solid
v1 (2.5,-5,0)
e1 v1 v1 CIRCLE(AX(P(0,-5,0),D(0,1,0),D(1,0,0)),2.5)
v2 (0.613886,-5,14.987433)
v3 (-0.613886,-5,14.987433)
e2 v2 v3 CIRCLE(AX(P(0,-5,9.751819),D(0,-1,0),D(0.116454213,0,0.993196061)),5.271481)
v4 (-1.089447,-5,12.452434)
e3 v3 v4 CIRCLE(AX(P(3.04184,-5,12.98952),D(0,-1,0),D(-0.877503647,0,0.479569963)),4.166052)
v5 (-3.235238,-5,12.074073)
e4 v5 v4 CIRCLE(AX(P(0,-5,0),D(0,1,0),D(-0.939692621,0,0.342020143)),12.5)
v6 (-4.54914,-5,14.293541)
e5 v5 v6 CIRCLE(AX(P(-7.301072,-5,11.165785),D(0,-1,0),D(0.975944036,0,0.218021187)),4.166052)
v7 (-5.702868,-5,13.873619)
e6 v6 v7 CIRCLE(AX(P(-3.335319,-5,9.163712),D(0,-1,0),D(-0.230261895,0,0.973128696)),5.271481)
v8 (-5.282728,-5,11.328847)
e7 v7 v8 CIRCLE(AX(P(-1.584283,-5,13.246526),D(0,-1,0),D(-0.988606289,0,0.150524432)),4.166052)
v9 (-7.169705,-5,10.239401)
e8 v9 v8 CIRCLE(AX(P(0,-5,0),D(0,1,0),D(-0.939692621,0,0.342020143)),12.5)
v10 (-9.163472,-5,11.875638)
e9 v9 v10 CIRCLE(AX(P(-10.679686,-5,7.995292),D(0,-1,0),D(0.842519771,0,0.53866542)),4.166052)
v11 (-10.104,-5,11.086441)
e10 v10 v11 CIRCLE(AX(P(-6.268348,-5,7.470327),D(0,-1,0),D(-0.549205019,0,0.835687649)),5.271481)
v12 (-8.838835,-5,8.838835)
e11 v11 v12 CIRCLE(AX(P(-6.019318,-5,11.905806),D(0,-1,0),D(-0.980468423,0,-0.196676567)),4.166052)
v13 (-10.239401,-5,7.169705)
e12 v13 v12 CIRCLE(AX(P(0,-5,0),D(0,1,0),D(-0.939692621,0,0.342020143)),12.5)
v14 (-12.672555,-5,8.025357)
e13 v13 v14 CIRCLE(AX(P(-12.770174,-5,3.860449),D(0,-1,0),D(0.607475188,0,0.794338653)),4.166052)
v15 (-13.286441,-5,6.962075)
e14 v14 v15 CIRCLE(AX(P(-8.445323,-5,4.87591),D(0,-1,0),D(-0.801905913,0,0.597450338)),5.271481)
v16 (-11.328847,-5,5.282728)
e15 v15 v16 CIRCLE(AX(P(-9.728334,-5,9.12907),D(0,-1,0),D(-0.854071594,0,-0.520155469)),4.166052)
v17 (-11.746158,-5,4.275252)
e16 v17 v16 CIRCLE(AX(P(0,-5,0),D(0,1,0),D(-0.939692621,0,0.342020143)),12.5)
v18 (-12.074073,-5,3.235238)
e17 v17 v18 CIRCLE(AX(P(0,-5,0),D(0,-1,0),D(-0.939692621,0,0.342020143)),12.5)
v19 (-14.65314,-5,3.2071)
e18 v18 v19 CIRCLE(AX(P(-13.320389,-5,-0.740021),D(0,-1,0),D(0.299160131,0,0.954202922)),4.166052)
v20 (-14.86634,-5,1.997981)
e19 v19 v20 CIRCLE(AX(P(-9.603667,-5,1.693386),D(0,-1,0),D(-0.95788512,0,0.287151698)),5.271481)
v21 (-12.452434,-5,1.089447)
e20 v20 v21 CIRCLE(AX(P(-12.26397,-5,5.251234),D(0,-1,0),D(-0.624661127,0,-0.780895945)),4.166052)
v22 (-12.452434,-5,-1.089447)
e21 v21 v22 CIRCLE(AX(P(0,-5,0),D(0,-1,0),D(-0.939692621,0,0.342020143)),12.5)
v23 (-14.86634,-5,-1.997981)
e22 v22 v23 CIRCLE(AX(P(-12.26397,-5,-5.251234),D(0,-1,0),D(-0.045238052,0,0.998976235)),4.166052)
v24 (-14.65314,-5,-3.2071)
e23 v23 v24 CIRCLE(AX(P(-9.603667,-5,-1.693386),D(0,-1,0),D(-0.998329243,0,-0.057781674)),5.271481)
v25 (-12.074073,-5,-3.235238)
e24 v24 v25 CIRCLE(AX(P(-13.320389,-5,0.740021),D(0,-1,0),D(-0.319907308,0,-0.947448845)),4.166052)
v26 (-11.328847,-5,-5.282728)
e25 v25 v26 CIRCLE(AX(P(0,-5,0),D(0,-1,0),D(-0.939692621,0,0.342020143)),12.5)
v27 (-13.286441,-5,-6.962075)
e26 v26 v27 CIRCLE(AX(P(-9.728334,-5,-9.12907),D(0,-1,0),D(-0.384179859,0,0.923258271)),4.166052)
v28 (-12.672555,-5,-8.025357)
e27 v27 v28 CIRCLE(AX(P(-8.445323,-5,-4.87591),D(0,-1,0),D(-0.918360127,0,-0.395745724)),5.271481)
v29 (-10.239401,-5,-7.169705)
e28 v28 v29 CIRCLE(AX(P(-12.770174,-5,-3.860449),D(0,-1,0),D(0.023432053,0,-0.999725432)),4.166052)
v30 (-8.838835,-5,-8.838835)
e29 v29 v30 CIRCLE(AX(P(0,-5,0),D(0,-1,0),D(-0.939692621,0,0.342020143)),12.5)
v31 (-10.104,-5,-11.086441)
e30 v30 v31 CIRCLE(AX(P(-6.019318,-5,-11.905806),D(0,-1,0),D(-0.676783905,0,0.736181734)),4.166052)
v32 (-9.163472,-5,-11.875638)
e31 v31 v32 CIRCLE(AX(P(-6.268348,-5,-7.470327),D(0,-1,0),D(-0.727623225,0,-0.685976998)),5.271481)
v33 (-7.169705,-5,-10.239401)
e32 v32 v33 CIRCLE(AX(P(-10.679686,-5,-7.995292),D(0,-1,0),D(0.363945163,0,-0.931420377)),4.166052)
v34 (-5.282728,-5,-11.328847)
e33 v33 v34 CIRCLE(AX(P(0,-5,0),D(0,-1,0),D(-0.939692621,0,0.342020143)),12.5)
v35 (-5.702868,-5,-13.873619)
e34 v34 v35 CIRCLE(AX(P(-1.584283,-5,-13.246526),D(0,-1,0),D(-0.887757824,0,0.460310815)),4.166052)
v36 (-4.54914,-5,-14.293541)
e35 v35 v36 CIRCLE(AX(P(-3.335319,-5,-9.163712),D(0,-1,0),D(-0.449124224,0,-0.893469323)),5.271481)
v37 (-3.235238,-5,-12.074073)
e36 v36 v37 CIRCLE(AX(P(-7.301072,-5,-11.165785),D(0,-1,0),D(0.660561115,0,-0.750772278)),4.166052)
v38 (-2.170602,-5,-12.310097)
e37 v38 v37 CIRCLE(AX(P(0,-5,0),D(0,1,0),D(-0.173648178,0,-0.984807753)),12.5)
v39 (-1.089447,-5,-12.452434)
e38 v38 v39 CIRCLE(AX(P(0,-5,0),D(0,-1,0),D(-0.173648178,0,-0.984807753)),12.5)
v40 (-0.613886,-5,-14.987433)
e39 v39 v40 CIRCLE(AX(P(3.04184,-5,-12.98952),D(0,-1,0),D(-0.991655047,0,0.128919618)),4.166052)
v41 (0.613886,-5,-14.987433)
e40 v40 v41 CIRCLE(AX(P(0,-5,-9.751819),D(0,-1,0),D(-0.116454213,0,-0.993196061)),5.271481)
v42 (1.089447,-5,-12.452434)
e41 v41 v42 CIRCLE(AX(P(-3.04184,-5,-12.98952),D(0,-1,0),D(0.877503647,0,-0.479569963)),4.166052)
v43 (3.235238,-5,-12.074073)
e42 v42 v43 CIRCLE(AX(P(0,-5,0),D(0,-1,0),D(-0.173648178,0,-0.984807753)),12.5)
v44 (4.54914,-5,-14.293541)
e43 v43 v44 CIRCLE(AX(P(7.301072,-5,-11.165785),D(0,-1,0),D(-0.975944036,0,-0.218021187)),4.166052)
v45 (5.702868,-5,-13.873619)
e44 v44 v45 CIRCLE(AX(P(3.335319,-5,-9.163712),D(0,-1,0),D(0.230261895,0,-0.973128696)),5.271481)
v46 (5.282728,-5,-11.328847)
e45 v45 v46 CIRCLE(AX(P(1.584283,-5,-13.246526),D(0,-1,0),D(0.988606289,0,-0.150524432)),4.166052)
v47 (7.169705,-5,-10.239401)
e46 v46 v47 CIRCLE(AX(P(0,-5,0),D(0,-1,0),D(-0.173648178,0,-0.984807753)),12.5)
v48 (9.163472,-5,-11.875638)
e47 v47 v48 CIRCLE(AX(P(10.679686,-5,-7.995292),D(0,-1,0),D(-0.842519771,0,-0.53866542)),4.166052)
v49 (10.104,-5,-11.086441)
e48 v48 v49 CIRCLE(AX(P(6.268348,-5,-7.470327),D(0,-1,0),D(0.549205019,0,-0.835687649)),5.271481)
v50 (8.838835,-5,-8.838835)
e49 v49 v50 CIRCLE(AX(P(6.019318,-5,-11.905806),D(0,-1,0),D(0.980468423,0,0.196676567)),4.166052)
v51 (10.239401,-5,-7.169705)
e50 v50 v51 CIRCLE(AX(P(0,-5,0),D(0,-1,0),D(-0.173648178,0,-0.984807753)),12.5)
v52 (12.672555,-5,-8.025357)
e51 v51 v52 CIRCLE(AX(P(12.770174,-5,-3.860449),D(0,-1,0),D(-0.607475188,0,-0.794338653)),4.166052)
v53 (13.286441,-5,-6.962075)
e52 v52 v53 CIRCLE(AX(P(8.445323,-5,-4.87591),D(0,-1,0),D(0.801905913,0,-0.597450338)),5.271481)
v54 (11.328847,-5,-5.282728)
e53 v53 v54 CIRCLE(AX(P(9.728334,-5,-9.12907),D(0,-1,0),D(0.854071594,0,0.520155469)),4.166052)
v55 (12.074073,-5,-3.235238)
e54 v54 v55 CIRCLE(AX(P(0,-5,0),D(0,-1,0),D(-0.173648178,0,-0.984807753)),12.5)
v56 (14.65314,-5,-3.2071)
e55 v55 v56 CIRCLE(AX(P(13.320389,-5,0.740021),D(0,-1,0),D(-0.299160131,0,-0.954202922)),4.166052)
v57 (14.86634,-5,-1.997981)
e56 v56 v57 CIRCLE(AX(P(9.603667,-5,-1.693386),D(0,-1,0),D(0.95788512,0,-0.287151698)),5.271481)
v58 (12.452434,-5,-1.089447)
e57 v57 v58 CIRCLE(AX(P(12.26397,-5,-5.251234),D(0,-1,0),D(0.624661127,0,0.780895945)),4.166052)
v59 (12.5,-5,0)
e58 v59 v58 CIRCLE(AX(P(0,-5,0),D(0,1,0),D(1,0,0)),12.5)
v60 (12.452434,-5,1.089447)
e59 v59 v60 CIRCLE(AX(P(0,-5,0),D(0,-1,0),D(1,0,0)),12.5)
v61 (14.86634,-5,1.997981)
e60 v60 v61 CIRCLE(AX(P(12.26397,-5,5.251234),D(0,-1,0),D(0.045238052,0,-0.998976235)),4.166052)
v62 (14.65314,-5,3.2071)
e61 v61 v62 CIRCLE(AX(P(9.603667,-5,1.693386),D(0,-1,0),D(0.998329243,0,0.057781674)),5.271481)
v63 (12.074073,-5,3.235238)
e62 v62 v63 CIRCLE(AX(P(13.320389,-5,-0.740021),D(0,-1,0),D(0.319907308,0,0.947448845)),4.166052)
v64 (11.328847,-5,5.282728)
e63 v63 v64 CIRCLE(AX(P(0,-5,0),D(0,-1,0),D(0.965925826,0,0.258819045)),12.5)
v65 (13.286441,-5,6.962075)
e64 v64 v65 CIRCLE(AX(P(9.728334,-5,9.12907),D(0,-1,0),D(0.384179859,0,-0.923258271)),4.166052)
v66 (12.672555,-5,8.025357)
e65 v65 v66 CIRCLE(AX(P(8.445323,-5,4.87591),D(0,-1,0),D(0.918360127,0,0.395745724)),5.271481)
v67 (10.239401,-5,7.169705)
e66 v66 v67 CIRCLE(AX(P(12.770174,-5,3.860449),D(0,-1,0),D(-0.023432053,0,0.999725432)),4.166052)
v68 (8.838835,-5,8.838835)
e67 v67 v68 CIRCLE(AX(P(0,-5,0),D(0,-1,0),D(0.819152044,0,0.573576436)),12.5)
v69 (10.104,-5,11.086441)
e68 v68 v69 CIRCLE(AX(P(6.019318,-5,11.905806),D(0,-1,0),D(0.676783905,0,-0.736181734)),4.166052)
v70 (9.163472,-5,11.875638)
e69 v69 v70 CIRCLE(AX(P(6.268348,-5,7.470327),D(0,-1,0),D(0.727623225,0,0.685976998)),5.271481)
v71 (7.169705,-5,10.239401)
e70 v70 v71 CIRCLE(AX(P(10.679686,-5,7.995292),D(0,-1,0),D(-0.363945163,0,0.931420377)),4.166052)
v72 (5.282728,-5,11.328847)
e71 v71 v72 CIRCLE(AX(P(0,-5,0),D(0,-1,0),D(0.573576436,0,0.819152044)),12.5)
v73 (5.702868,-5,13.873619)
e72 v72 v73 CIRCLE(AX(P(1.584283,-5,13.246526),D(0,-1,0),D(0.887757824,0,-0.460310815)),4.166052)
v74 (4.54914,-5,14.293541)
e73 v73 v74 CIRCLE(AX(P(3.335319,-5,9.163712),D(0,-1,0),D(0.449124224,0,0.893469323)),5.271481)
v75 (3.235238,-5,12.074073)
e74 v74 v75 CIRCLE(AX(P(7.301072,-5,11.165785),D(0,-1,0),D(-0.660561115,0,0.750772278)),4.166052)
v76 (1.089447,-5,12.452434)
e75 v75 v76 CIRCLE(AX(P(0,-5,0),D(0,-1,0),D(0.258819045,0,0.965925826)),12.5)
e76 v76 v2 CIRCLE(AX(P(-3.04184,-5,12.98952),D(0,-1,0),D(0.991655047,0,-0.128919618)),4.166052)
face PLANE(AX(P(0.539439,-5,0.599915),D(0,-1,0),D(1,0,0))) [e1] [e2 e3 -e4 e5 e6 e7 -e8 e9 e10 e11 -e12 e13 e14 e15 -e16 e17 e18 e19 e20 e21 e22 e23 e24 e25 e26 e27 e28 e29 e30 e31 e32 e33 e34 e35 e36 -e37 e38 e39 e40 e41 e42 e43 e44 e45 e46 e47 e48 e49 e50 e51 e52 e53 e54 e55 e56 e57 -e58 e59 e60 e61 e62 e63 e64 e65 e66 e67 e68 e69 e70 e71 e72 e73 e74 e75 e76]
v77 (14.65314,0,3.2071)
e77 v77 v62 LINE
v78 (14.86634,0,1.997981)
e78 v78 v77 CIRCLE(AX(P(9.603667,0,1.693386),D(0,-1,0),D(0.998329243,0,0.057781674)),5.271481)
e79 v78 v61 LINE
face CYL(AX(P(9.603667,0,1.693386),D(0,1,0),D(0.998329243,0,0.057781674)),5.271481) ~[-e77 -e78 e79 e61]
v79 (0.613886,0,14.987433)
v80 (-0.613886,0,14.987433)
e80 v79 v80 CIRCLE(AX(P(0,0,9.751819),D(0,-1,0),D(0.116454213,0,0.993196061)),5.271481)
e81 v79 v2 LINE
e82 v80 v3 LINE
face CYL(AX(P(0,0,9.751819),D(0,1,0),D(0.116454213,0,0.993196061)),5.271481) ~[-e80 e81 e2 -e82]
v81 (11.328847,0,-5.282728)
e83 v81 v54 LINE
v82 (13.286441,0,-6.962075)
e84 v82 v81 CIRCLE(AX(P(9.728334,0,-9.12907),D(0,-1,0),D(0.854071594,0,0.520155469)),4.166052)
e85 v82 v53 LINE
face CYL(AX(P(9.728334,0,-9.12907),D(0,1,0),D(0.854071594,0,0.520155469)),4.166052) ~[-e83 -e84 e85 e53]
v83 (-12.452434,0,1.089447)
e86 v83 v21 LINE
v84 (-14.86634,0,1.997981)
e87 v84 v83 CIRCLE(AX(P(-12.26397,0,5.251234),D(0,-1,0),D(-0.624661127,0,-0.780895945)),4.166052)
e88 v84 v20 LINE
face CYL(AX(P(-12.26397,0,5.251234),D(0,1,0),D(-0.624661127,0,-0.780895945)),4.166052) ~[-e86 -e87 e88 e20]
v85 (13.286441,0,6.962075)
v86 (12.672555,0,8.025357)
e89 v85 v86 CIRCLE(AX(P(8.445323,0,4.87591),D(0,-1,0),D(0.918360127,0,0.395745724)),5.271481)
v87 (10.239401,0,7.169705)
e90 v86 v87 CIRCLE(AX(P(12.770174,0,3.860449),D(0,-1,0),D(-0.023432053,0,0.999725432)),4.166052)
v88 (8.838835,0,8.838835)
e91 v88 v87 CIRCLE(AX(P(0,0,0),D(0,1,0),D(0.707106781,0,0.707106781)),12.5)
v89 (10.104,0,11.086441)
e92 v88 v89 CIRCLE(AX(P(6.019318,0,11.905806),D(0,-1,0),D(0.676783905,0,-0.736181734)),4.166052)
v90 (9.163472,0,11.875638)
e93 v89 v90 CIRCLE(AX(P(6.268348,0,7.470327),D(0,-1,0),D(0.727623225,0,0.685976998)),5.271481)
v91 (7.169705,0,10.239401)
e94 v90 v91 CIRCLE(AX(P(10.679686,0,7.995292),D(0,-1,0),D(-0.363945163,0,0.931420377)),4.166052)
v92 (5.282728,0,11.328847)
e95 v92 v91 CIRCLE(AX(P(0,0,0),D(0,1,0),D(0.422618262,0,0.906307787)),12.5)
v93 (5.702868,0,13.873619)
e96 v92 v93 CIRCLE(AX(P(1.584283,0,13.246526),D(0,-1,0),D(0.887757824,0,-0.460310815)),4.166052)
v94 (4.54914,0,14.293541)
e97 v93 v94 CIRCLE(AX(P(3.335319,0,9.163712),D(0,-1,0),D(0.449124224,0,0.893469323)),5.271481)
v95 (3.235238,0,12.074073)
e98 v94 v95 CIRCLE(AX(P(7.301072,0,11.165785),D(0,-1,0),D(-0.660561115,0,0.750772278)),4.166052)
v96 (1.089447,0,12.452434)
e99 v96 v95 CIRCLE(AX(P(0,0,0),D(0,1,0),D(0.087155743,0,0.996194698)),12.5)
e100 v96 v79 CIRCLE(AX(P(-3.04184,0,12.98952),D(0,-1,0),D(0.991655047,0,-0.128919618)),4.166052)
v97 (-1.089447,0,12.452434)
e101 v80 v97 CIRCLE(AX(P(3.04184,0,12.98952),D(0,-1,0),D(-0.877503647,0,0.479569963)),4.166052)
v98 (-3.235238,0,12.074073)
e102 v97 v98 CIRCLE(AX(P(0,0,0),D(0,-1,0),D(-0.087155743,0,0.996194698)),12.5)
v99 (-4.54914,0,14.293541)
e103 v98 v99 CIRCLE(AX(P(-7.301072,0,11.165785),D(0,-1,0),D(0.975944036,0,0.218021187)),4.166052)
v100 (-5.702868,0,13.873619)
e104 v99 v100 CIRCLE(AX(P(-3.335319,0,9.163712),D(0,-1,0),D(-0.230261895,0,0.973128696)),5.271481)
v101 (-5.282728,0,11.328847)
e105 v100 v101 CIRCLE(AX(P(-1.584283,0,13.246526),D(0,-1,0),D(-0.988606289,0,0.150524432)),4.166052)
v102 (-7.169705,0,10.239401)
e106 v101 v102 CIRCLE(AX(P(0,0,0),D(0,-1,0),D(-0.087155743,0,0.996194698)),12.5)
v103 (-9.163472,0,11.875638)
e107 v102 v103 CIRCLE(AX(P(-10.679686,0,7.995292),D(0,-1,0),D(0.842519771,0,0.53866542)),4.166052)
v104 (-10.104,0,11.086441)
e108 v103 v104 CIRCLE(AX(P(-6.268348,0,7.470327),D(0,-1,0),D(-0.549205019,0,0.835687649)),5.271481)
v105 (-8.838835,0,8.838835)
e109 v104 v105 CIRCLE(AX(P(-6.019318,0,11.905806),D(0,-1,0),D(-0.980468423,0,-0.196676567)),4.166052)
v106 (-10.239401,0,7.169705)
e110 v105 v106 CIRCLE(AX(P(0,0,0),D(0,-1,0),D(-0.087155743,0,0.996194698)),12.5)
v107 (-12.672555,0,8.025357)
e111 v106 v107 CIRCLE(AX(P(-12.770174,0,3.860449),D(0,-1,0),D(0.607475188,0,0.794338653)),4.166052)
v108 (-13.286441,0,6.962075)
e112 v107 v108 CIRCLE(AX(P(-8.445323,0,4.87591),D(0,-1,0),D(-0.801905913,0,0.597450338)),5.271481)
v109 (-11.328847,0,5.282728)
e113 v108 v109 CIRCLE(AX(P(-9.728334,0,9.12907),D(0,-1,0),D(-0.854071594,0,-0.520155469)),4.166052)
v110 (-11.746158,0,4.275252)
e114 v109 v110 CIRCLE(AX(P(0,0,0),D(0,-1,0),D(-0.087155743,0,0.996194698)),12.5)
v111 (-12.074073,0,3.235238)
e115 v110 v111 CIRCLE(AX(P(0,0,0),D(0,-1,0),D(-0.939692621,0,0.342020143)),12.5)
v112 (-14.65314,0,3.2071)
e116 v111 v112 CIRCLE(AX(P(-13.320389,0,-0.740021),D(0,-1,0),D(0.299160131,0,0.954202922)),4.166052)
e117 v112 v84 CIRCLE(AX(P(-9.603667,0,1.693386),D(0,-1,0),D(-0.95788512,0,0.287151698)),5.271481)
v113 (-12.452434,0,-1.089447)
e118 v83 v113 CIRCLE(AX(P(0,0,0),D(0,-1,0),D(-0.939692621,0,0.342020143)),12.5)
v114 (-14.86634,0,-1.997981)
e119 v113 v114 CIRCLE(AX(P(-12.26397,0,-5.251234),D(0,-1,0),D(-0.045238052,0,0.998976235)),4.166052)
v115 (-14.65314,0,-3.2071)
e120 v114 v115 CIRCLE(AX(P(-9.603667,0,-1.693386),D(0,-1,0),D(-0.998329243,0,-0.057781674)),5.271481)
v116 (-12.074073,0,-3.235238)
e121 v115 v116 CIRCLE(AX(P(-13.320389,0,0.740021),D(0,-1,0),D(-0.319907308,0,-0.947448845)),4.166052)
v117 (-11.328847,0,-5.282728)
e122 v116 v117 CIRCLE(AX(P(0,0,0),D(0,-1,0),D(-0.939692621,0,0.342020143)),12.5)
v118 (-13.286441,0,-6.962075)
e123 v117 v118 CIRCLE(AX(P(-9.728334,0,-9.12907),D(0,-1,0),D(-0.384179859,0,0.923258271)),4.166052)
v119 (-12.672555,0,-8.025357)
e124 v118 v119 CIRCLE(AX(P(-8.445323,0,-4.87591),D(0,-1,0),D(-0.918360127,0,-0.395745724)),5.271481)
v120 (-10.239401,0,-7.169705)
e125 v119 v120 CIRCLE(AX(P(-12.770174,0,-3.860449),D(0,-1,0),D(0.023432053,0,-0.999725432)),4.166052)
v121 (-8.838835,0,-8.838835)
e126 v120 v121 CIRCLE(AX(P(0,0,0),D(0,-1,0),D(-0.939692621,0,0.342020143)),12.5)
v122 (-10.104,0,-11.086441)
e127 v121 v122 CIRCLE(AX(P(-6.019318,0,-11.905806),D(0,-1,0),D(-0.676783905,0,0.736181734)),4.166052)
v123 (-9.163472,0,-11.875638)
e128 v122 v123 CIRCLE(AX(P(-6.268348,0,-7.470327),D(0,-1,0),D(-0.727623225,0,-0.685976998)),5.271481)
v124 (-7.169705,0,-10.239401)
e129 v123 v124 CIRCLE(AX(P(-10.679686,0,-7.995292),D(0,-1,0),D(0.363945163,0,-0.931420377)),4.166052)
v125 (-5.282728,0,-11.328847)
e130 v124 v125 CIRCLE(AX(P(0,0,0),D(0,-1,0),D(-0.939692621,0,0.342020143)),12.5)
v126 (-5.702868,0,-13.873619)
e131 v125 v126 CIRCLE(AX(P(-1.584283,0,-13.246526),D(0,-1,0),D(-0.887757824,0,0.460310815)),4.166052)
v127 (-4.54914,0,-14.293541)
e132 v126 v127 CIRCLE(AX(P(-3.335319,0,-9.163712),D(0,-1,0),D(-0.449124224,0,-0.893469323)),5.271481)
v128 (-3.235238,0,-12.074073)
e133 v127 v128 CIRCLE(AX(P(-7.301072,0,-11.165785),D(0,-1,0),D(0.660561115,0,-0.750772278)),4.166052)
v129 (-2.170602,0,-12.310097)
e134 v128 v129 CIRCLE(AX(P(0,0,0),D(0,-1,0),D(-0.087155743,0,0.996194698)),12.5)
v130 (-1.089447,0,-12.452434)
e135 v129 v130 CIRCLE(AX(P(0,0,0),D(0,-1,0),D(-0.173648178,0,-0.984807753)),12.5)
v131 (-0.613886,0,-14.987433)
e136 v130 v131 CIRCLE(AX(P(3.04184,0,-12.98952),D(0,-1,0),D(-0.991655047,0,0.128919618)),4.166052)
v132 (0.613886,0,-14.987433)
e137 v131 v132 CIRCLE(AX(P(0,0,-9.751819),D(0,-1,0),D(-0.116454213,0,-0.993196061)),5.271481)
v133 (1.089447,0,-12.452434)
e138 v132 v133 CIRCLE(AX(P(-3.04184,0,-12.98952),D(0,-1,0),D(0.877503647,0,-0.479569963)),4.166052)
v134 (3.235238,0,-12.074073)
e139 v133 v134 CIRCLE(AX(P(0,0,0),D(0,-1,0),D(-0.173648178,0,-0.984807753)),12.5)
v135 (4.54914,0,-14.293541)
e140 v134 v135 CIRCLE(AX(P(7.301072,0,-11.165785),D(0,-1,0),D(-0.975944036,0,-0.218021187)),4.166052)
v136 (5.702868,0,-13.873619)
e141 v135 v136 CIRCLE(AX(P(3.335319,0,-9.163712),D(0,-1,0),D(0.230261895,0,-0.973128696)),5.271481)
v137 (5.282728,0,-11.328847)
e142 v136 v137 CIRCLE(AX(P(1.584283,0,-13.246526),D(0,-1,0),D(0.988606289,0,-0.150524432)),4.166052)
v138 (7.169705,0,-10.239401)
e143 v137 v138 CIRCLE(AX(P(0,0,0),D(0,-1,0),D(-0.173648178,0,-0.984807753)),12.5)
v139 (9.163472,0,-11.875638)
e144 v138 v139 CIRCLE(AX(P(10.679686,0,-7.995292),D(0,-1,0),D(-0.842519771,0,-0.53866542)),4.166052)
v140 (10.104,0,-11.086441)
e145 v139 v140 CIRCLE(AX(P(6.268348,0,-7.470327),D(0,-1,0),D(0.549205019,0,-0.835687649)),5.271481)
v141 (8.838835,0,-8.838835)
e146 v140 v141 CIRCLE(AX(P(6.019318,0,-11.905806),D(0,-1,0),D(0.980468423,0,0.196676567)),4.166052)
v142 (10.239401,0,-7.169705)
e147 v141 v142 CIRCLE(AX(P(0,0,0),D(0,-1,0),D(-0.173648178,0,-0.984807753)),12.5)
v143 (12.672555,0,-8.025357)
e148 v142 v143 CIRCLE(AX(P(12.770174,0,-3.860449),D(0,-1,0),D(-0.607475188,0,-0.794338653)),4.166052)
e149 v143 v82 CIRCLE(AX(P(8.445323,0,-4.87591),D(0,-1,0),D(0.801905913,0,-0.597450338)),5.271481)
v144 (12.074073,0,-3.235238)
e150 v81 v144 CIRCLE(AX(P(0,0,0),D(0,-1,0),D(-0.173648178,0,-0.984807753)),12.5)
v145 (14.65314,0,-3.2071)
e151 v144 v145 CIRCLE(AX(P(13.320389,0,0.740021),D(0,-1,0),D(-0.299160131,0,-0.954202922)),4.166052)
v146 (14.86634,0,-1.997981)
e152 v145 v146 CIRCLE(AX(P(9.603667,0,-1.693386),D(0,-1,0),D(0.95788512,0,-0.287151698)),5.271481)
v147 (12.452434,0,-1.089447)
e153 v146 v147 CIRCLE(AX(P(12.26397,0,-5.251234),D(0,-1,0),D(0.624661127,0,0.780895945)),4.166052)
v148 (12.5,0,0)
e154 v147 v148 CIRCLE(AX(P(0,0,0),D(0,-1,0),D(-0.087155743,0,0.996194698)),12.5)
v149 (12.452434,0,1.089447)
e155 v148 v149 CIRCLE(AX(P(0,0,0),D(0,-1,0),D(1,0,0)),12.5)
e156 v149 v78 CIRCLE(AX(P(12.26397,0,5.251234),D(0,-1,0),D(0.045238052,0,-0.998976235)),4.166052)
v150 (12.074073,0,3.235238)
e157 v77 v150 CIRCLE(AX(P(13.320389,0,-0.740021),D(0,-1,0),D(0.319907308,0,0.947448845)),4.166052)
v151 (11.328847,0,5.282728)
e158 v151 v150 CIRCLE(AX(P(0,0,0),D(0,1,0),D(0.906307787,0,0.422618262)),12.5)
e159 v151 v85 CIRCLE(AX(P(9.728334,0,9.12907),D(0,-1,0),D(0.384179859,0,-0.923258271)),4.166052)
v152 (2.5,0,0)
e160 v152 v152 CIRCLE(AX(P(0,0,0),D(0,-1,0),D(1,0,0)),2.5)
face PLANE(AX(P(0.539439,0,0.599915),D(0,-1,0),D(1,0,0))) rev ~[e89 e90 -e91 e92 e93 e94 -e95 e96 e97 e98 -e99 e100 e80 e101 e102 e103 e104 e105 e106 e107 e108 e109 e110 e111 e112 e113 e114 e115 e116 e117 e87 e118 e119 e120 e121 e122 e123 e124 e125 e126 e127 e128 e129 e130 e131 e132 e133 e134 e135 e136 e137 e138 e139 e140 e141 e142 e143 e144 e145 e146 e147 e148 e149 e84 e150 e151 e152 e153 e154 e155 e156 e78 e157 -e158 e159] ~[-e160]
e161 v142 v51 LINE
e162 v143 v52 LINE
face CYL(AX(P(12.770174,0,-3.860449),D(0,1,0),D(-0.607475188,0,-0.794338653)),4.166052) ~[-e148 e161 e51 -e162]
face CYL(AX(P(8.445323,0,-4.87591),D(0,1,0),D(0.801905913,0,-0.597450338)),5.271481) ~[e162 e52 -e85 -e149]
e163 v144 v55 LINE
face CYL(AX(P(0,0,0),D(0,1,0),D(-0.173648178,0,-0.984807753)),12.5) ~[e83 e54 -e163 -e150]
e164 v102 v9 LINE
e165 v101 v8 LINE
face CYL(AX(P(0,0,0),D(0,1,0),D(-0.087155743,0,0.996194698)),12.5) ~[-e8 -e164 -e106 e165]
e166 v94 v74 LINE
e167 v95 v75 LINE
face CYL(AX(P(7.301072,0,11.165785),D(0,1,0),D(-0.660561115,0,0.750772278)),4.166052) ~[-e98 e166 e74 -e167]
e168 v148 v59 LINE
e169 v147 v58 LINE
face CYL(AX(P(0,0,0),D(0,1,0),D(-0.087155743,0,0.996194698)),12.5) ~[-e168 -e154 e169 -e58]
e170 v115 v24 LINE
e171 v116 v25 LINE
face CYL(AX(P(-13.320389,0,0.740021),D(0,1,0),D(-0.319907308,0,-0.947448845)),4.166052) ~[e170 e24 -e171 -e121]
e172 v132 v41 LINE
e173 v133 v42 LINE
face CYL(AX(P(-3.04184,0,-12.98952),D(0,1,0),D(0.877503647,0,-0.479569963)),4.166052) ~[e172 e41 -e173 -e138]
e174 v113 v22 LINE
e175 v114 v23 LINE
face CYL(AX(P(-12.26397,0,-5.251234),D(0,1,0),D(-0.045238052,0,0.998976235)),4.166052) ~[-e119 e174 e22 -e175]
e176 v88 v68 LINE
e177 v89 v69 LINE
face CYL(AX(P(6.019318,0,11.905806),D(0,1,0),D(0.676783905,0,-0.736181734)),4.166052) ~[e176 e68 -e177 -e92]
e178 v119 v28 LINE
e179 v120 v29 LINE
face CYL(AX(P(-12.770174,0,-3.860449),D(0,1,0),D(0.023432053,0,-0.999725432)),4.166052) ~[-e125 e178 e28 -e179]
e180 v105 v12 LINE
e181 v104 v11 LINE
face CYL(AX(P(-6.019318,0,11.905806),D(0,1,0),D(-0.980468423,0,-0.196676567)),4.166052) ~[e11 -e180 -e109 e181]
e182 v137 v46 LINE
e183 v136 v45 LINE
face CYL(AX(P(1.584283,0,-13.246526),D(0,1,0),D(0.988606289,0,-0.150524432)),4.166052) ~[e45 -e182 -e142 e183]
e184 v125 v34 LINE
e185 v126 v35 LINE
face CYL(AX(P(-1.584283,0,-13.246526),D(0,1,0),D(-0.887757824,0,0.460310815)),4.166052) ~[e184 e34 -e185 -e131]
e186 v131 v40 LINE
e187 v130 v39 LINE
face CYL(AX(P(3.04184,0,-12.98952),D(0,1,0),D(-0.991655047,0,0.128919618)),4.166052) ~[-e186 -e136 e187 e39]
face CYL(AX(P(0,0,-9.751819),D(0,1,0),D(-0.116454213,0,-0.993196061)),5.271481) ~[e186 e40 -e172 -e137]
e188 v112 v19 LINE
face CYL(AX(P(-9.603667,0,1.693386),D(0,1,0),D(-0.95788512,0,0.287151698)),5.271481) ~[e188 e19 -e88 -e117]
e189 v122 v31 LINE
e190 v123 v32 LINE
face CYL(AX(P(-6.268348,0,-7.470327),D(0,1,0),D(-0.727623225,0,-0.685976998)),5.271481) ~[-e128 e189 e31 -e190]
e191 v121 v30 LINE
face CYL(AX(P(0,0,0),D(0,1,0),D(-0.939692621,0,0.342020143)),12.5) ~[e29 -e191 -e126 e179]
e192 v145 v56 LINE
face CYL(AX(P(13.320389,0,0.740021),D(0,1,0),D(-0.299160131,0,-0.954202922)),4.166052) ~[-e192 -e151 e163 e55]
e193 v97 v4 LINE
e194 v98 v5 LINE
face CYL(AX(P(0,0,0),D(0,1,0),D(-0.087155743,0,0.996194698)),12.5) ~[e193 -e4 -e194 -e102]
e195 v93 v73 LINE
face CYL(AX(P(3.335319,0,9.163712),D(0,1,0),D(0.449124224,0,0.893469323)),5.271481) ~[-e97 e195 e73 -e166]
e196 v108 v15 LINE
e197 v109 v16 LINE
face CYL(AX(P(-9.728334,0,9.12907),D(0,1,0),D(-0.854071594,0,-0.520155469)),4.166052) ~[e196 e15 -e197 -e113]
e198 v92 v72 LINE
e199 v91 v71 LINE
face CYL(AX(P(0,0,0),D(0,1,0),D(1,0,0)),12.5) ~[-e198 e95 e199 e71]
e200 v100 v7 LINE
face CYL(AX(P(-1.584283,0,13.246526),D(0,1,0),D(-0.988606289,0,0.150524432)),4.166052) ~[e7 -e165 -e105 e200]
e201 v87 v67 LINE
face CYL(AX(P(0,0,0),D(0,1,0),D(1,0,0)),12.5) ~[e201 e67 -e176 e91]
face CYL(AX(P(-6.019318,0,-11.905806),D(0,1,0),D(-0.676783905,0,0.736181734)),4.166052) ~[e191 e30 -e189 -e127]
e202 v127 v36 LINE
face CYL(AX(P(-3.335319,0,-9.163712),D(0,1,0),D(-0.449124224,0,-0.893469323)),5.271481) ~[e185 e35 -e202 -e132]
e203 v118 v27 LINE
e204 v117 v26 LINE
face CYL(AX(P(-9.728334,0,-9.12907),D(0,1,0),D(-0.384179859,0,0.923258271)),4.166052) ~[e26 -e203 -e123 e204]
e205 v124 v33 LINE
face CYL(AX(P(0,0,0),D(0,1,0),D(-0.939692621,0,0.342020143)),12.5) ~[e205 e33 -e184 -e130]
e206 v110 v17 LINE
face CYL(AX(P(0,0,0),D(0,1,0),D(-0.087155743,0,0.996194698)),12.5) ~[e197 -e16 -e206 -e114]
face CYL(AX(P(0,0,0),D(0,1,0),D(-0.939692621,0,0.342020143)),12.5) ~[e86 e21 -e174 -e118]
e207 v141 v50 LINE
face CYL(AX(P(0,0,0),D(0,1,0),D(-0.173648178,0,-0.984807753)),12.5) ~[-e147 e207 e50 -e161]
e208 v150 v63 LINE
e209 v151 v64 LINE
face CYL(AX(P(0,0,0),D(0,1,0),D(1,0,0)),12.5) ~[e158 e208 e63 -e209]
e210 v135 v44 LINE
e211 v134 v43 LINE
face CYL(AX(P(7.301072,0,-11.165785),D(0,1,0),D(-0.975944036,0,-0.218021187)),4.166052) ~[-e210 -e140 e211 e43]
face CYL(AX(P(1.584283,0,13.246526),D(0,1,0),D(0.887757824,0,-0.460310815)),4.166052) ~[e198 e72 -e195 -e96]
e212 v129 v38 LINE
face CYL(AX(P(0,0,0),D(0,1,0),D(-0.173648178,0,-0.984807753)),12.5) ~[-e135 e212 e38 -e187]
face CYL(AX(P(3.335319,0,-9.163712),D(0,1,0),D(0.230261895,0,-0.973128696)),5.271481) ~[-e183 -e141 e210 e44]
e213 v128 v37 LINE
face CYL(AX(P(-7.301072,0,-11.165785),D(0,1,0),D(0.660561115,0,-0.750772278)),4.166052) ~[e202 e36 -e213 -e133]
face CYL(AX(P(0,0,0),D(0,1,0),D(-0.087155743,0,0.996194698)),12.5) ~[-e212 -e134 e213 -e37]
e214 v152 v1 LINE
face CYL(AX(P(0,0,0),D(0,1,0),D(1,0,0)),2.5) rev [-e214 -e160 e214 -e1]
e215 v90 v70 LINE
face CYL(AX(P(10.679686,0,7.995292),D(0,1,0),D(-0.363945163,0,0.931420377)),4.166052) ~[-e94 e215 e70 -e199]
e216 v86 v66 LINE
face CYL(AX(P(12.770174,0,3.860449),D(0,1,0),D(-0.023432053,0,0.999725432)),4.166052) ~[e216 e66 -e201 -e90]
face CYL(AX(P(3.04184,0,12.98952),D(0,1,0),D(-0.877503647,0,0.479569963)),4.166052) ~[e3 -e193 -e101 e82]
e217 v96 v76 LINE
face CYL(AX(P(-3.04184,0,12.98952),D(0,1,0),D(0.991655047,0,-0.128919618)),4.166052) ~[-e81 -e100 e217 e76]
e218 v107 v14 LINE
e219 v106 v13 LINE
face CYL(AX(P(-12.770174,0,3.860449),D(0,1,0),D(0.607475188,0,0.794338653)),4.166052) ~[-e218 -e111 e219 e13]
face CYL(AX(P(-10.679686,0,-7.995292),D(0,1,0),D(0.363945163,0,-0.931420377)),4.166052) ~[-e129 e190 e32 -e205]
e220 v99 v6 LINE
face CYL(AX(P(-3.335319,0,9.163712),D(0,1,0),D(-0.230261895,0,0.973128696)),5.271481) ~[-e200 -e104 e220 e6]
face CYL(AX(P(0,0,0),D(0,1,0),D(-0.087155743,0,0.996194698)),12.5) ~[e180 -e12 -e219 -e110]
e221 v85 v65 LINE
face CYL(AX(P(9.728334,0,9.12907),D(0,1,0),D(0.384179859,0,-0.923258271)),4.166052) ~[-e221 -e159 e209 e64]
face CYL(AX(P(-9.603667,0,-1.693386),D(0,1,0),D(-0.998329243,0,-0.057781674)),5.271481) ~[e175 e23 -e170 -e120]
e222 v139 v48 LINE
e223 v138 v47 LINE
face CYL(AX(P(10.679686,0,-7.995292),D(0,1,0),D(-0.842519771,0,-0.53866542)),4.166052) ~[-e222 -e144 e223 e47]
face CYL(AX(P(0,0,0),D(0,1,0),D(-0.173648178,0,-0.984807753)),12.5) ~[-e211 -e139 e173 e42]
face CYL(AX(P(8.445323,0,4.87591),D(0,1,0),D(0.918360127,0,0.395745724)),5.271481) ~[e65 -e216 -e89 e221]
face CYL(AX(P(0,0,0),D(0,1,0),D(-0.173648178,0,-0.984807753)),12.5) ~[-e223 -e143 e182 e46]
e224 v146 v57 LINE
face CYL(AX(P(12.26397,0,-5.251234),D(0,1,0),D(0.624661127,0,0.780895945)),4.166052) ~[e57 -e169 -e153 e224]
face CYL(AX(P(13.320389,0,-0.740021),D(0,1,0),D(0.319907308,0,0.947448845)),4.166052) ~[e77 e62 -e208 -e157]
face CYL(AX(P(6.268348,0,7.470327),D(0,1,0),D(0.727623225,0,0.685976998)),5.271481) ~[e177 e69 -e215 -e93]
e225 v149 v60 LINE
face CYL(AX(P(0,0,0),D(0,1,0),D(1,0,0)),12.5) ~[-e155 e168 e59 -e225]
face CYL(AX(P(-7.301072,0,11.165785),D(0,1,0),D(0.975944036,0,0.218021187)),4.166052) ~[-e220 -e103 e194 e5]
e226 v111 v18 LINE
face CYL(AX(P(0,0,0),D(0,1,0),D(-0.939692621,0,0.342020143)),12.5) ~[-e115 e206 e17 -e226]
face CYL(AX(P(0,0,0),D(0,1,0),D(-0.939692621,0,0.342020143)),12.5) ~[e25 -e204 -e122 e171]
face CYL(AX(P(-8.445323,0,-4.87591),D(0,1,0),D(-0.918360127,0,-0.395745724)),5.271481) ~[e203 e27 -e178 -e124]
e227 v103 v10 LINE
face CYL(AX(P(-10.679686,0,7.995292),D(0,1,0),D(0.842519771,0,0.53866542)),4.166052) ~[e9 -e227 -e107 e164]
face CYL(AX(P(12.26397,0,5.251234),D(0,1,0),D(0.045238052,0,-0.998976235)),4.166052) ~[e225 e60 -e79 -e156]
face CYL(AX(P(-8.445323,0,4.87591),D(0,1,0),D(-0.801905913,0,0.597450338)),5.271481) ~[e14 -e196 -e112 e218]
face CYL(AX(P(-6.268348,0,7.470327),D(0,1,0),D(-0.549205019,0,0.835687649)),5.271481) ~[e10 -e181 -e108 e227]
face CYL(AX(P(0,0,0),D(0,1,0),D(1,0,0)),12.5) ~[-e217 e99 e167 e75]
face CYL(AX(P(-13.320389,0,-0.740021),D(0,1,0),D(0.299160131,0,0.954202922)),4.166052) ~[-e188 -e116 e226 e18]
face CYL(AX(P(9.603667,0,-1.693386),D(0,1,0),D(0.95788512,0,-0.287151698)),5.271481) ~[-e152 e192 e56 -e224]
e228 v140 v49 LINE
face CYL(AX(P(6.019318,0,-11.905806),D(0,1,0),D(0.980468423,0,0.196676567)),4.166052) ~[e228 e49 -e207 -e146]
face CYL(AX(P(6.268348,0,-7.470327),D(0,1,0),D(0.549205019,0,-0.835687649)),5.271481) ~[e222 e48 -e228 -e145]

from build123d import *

# Parameters (mm, degrees)
F0_R     = 2.5
F1_DEPTH = 5
F2_COUNT = 18


with BuildPart() as f1:
    # F0 (on Front) → F1 (new body)
    with BuildSketch(Plane.XZ):
        with BuildLine():
            ThreePointArc((-1.0894467843, 12.4524337261), (-8.4448775952, -9.2159667101), (12.5, 0))
            ThreePointArc((12.5, 0), (9.2159667101, 8.4448775952), (1.0894467843, 12.4524337261))
            ThreePointArc((1.0894467843, 12.4524337261), (0, 12.5), (-1.0894467843, 12.4524337261))
        make_face()
        Circle(F0_R, mode=Mode.SUBTRACT)
        with BuildLine():
            ThreePointArc((-1.0894467843, 12.4524337261), (0, 12.5), (1.0894467843, 12.4524337261))
            ThreePointArc((1.0894467843, 12.4524337261), (1.0527842675, 13.7576625834), (0.6138861357, 14.9874328626))
            ThreePointArc((0.6138861357, 14.9874328626), (0, 15.0232996939), (-0.6138861357, 14.9874328626))
            ThreePointArc((-0.6138861357, 14.9874328626), (-1.0527842675, 13.7576625834), (-1.0894467843, 12.4524337261))
        make_face()
    extrude(amount=F1_DEPTH)

    # F2: F1 ×18 about axis
    f2_axis = Axis((0, 0, 0), (0, 1, 0))


with BuildPart() as f1_1:
    add(f1.part)
    for i in range(1, F2_COUNT):
        add(f1.part.rotate(f2_axis, i * 360 / F2_COUNT))


solid = f1_1.part
